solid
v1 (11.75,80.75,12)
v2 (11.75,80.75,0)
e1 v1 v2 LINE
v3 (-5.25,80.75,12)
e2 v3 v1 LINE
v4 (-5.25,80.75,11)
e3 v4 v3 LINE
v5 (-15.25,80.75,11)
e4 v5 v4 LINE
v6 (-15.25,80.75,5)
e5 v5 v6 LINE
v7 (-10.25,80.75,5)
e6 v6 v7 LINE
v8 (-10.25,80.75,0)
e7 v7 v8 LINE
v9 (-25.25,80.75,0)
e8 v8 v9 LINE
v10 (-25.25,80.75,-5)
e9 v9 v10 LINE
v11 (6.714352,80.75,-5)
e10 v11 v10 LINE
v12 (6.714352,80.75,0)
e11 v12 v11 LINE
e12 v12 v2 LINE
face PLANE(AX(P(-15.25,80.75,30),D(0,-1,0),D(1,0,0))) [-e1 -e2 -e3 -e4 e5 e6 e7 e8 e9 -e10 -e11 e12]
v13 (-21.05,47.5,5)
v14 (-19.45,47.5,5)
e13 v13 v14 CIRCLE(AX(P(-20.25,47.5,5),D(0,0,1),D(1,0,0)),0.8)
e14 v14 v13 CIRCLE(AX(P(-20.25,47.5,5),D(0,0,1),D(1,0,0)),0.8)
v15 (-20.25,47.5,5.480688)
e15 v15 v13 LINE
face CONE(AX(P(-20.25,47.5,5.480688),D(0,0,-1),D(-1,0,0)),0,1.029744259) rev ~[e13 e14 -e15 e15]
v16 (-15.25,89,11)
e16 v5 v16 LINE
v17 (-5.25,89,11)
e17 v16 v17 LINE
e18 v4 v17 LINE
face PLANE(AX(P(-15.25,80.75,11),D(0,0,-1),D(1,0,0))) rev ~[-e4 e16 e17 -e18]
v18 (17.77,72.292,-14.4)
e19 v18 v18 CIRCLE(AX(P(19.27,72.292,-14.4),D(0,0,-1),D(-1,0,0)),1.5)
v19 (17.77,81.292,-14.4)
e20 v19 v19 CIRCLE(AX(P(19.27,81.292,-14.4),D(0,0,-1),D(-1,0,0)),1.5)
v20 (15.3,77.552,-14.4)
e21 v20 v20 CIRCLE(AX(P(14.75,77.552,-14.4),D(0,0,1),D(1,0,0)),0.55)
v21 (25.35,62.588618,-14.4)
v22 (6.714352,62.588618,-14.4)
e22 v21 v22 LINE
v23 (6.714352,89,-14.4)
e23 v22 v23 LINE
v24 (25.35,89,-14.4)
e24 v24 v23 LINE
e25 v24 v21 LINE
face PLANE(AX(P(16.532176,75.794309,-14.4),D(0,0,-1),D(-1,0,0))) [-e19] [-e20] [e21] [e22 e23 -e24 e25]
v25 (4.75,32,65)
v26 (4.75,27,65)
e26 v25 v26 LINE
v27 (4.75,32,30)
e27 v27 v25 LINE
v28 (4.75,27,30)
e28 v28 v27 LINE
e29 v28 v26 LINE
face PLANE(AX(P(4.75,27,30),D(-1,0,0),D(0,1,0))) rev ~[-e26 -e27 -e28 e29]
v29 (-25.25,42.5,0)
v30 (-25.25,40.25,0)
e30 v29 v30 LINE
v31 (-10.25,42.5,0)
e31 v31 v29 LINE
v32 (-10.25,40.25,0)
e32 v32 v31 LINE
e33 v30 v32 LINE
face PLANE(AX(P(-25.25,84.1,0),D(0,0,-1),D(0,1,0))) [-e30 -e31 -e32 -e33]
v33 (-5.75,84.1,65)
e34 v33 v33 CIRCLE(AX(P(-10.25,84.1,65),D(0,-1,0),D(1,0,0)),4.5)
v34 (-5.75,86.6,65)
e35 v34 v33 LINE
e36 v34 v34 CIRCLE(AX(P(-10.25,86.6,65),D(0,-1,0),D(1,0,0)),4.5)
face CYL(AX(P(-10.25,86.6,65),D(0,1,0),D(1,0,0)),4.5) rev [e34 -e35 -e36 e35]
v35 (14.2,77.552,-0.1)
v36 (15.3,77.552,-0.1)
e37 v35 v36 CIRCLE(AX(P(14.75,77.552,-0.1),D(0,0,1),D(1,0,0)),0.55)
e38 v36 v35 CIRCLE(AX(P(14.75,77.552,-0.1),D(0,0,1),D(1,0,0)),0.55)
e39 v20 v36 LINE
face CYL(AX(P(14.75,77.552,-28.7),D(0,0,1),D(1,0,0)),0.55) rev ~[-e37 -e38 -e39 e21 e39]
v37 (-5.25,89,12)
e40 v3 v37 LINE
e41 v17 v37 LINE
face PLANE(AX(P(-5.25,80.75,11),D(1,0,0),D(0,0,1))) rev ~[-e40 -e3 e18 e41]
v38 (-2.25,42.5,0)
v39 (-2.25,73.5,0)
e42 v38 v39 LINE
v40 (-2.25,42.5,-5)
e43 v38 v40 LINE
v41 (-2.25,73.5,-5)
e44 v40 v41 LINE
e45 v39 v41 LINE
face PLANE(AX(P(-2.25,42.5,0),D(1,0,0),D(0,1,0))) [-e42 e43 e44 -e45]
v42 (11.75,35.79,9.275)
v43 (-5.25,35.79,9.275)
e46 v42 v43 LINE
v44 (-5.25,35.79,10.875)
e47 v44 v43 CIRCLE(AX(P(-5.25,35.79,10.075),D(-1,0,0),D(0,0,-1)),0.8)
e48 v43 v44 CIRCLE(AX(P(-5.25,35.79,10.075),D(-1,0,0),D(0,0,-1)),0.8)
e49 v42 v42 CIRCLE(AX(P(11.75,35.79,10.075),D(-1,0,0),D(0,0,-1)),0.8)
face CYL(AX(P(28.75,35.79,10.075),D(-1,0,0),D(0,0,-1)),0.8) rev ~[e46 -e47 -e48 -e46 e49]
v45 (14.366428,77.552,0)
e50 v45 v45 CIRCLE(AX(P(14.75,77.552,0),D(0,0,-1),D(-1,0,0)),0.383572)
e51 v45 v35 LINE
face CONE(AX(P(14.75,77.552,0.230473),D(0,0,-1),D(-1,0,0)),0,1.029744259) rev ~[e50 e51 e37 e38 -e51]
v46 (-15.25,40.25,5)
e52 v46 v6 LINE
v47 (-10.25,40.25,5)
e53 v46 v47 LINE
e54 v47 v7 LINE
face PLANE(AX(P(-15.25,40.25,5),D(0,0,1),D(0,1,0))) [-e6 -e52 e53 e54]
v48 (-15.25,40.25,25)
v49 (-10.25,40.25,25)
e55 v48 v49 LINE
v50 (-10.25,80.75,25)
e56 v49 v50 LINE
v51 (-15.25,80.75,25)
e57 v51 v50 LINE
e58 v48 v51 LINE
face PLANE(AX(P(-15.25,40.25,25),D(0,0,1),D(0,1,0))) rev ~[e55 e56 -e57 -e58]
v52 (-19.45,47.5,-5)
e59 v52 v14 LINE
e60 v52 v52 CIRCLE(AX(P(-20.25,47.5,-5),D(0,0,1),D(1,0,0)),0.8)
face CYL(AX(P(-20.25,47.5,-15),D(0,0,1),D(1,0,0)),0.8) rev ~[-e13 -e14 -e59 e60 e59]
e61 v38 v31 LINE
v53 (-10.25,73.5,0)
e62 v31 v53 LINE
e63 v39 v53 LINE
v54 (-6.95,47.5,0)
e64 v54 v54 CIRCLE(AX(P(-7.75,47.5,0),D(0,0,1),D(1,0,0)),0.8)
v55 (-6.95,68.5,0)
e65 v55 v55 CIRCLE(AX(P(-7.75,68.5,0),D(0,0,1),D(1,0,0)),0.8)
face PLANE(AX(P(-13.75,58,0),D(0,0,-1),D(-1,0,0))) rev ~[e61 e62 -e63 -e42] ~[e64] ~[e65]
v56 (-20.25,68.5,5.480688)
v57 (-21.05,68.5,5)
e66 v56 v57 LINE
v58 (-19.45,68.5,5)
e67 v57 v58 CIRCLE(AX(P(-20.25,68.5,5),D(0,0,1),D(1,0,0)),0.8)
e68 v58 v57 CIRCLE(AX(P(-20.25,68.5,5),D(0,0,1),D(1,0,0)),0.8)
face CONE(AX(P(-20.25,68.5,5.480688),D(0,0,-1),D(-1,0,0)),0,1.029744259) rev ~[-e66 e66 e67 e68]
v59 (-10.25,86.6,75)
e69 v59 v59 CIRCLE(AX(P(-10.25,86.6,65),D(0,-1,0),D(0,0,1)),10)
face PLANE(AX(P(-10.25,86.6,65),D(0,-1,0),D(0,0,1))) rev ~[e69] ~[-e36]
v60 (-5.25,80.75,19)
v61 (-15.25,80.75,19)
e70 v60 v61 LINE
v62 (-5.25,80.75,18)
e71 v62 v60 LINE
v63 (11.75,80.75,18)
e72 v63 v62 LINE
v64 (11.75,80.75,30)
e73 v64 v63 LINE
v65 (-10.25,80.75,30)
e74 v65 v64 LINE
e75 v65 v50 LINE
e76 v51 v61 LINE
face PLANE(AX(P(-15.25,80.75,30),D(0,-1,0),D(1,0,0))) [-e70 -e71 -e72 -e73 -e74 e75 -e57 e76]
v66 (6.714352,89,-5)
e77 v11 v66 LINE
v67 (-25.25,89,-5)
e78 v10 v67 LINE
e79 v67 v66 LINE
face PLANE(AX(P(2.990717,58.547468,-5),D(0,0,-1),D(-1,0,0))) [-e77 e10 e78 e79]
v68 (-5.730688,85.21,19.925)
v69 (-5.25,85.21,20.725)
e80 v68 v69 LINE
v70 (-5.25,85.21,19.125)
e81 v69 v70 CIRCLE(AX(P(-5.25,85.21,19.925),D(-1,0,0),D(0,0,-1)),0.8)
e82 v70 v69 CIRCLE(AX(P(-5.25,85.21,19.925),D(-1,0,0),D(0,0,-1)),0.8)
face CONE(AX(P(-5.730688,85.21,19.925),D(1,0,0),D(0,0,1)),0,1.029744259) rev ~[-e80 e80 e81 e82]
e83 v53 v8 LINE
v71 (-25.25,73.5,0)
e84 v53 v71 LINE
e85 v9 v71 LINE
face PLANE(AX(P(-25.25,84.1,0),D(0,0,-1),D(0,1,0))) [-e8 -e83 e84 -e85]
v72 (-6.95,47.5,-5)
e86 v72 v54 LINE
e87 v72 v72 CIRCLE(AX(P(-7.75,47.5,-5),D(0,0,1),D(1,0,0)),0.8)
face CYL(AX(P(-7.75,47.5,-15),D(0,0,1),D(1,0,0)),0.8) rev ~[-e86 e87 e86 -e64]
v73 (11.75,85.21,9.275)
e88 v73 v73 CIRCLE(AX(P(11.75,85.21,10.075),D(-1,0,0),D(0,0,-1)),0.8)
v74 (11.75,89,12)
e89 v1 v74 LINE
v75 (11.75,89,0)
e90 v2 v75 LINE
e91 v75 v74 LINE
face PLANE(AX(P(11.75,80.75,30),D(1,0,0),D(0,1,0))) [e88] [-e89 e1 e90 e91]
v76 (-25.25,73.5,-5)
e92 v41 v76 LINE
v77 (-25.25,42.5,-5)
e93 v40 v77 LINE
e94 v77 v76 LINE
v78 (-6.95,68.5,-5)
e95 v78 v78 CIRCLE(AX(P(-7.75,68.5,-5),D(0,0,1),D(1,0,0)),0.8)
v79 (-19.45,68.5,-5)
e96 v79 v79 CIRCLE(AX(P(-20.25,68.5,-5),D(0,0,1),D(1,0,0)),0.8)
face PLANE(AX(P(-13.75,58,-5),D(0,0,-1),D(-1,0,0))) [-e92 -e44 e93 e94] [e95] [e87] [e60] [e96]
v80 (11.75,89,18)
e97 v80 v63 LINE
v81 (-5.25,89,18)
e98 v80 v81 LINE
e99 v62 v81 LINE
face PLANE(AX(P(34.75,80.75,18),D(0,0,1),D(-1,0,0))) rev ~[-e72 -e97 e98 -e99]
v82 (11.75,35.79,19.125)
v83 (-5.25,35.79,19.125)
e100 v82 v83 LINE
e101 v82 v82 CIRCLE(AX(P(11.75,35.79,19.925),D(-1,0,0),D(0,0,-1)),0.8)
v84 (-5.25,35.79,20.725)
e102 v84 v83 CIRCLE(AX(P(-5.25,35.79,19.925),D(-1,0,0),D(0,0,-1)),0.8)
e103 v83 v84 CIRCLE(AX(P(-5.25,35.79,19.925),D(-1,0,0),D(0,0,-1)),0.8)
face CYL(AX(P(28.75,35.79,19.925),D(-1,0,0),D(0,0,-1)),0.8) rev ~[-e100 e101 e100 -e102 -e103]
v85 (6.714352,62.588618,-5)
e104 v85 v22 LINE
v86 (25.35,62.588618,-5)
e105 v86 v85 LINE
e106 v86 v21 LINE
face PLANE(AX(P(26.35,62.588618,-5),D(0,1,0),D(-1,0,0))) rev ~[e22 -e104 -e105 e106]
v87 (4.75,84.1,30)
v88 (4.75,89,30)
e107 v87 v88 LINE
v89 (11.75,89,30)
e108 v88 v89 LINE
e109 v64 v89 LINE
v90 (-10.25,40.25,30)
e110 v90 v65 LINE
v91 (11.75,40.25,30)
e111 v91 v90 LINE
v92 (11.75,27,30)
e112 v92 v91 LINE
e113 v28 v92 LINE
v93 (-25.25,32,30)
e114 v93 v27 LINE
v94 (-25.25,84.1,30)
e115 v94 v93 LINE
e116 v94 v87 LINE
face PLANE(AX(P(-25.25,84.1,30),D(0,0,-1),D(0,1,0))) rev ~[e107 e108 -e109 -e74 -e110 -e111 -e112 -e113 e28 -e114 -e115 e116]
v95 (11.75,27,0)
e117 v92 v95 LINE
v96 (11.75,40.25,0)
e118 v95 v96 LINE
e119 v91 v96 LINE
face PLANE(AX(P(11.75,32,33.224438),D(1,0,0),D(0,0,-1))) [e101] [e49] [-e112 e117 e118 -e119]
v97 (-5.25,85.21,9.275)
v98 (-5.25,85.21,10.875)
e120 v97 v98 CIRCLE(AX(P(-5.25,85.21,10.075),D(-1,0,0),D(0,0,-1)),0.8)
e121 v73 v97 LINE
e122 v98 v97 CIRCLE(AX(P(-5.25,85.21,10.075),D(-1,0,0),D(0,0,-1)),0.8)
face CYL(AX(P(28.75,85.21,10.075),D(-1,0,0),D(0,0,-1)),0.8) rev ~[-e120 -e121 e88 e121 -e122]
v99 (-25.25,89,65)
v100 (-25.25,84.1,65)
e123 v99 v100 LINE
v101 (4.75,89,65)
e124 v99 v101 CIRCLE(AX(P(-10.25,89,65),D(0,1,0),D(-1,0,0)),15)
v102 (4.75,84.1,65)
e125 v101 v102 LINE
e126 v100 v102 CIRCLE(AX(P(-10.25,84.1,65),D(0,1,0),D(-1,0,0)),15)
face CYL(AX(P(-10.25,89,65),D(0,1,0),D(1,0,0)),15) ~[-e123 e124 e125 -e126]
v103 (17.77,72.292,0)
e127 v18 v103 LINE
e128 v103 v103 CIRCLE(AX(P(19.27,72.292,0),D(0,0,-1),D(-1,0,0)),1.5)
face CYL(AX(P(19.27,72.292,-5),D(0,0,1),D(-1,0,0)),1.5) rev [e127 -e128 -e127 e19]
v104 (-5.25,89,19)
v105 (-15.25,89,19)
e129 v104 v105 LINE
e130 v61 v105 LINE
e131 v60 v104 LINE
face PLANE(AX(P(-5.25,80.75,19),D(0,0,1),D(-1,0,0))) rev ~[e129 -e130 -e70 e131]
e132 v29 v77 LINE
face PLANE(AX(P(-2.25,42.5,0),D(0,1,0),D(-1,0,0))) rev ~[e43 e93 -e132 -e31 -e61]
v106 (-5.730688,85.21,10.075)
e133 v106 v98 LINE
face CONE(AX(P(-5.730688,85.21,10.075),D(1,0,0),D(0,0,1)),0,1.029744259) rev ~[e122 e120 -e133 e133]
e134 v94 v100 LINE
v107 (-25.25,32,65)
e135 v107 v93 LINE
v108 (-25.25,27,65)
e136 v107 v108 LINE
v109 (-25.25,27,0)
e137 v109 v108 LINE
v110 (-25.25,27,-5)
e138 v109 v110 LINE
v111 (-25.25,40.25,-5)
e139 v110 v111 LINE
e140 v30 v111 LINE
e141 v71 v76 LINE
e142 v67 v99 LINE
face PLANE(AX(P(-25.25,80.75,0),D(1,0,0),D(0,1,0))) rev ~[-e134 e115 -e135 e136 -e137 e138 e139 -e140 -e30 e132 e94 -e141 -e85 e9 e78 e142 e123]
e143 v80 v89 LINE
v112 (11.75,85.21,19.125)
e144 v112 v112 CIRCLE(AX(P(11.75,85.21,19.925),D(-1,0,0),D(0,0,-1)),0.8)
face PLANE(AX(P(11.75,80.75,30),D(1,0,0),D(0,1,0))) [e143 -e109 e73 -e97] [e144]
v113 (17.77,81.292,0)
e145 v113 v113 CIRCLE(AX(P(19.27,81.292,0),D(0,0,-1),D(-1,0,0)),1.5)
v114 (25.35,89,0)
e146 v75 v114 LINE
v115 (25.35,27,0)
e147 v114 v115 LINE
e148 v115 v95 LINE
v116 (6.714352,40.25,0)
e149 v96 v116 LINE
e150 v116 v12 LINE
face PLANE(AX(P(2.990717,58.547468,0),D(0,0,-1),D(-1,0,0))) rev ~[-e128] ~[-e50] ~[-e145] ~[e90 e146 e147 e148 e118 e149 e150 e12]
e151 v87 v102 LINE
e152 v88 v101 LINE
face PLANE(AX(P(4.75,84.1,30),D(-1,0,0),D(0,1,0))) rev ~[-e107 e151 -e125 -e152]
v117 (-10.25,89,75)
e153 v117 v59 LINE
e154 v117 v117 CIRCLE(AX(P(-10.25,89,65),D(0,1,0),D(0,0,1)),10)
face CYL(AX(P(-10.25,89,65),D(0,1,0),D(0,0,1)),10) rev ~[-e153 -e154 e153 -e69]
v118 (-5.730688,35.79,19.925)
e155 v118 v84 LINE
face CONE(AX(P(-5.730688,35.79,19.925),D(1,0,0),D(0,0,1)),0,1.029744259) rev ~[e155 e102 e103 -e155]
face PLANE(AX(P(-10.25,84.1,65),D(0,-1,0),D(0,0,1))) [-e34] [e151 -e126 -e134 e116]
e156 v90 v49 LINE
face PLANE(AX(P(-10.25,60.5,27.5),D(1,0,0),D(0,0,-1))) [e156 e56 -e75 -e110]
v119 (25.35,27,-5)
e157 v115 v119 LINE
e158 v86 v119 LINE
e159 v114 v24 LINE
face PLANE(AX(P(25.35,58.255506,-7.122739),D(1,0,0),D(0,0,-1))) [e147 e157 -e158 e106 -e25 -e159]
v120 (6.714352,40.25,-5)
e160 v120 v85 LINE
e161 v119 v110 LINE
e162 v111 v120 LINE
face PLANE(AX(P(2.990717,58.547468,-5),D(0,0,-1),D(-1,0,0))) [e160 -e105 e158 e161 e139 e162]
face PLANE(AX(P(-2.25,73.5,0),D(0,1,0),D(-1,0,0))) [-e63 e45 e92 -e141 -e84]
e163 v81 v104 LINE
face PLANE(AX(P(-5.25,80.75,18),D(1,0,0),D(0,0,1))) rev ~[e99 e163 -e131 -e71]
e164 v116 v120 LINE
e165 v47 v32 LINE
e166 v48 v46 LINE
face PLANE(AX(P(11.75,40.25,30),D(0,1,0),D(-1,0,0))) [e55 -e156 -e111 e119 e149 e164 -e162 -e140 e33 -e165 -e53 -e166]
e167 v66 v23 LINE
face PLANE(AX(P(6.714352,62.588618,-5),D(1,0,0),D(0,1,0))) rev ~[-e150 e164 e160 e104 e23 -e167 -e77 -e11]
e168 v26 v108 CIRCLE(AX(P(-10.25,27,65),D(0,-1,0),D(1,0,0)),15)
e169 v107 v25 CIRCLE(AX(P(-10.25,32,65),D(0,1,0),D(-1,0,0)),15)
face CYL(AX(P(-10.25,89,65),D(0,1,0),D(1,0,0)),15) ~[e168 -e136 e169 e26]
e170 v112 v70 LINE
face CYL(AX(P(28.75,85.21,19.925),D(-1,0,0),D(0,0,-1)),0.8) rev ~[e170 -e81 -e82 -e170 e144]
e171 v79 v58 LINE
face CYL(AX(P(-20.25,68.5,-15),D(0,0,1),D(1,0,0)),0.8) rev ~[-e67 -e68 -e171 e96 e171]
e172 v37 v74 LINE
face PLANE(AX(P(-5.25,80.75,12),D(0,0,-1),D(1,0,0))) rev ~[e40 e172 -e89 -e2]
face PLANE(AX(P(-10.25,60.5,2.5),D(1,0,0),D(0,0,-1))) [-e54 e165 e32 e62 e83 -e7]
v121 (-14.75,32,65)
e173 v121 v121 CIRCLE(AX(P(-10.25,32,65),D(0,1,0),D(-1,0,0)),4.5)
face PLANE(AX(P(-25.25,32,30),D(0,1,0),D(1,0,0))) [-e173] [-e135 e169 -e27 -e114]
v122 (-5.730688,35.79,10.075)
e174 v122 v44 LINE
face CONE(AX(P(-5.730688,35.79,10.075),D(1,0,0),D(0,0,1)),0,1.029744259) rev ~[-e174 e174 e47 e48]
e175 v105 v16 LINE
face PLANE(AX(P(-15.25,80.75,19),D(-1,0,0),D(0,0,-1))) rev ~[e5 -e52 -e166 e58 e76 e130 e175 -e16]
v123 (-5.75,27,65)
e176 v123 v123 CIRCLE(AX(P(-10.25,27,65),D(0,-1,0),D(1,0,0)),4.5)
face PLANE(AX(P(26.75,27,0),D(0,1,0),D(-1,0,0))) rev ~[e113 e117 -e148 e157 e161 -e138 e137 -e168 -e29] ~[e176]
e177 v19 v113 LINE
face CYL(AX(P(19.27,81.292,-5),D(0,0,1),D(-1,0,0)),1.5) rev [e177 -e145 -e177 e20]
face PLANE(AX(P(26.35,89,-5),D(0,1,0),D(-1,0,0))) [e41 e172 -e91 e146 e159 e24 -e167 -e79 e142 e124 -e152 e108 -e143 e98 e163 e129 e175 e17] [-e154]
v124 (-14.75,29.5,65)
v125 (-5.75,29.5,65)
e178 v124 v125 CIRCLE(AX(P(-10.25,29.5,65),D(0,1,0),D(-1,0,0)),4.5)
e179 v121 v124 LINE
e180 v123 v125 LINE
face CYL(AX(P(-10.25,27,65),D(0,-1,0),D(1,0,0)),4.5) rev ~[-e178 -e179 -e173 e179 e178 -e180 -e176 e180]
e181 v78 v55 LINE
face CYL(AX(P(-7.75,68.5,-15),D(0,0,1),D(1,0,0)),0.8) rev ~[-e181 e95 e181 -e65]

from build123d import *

# Parameters (mm, degrees)
ESQUISSE1_W                 = 60.5
ESQUISSE1_H                 = 64
BOSS_EXTRU_1_DEPTH          = 30
ESQUISSE2_R                 = 4.5
ENL_V_MAT_EXTRU_1_DEPTH     = 32
ENL_V_MAT_EXTRU_2_REACH     = 55.283
ESQUISSE4_W                 = 51.1
ESQUISSE4_H                 = 83.557669167
ESQUISSE5_R                 = 10.5
ENL_V_MAT_EXTRU_3_DEPTH     = 2
ESQUISSE6_R                 = 10
ENL_V_MAT_EXTRU_4_DEPTH     = 4.7
ESQUISSE7_W                 = 47
ESQUISSE7_H                 = 57
BOSS_EXTRU_2_DEPTH          = 30
ENL_V_MAT_EXTRU_5_DEPTH     = 30
ENL_V_MAT_EXTRU_6_DEPTH     = 8.25
ESQUISSE11_W                = 5
ESQUISSE11_H                = 40.5
BOSS_EXTRU_3_DEPTH          = 5
ESQUISSE12_R                = 0.5
ENL_V_MAT_EXTRU_7_DEPTH     = 15
TROU_TARAUD_M2X0_42_D       = 1.6
TROU_TARAUD_M2X0_42_DEPTH   = 17
TROU_TARAUD_M2X0_42_TIP     = 0.480688495
ENL_V_MAT_EXTRU_8_REACH     = 113.72
ESQUISSE22_W                = 82.97203866
ESQUISSE22_H                = 67.875780224
ENL_V_MAT_EXTRU_10_DEPTH    = 30
ESQUISSE23_W                = 55
ESQUISSE23_H                = 5
ESQUISSE23_H_2              = 4.9
BOSS_EXTRU_4_DEPTH          = 30
ENL_V_START                 = -62
ESQUISSE24_R                = 10
ENL_V_MAT_EXTRU_11_DEPTH    = 62
ENL_V_MAT_EXTRU_12_REACH    = 111.597
ESQUISSE26_R                = 10.5
ESQUISSE26_R_2              = 4.5
BOSS_EXTRU_5_DEPTH          = 5
ESQUISSE27_R                = 10.5
ENL_V_MAT_EXTRU_13_DEPTH    = 2.5
ESQUISSE28_W                = 21.53784572
ESQUISSE28_H                = 33.22443827
ENL_V_MAT_EXTRU_14_DEPTH    = 5
ESQUISSE29_W                = 5
ESQUISSE29_H                = 52.1
ENL_V_MAT_EXTRU_15_DEPTH    = 30
BOSS_EXTRU_6_DEPTH          = 62
ENL_V_START_2               = -20.388398
ESQUISSE32_W                = 38.789198293
ESQUISSE32_H                = 52.1
ENL_V_MAT_EXTRU_16_DEPTH    = 20.388398
ESQUISSE36_W                = 70.879809572
ESQUISSE36_H                = 44.299384872
ENL_V_MAT_EXTRU_20_DEPTH    = 62
ESQUISSE37_W                = 30
ESQUISSE37_H                = 4.9
ESQUISSE37_H_2              = 5
BOSS_EXTRU_8_DEPTH          = 50
ESQUISSE38_R                = 4.5
ENL_V_MAT_EXTRU_21_DEPTH    = 62
ESQUISSE39_R                = 10
ENL_V_MAT_EXTRU_22_DEPTH    = 4.9
ESQUISSE40_R                = 10.5
ENL_V_MAT_EXTRU_23_DEPTH    = 2.5
ENL_V_MAT_EXTRU_24_REACH    = 104.013
ESQUISSE44_W                = 30
ESQUISSE44_H                = 4.9
ESQUISSE44_H_2              = 5
BOSS_EXTRU_9_DEPTH          = 50
ENL_V_MAT_EXTRU_25_REACH    = 127.904
ESQUISSE45_R                = 4.5
ESQUISSE46_R                = 10
ENL_V_MAT_EXTRU_26_DEPTH    = 4.9
ESQUISSE47_R                = 10.5
ENL_V_MAT_EXTRU_27_DEPTH    = 2.5
ENL_V_MAT_EXTRU_28_DEPTH    = 62
ESQUISSE49_W                = 23
ESQUISSE49_H                = 31
BOSS_EXTRU_10_DEPTH         = 5
ESQUISSE50_R                = 0.45
ENL_V_MAT_EXTRU_29_DEPTH    = 5
TROU_TARAUD_M2X0_43_D       = 1.6
TROU_TARAUD_M2X0_43_DEPTH   = 10
TROU_TARAUD_M2X0_43_TIP     = 0.480688495
BOSS_EXTRU_11_DEPTH         = 5
ESQUISSE53_R                = 10.5
ESQUISSE53_R_2              = 4.5
BOSS_EXTRU_12_DEPTH         = 2.5
BOSS_EXTRU_14_START         = -2.5
ESQUISSE55_R                = 10
ESQUISSE55_R_2              = 4.5
BOSS_EXTRU_14_DEPTH         = 2.5
ESQUISSE56_R                = 0.3
ESQUISSE56_R_2              = 1.5
ENL_V_MAT_EXTRU_30_DEPTH    = 5
ESQUISSE58_W                = 13.11360463
ESQUISSE58_H                = 66.02814963
ENL_V_MAT_EXTRU_31_DEPTH    = 0.4
ESQUISSE59_W                = 19.635648438
ESQUISSE59_H                = 26.411381916
ESQUISSE59_R                = 0.3
ESQUISSE59_R_2              = 1.5
BOSS_EXTRU_15_DEPTH         = 9.4
TROU_TARAUD_M1_4X0_31_D     = 1.1
TROU_TARAUD_M1_4X0_31_DEPTH = 14.3
TROU_TARAUD_M1_4X0_31_TIP   = 0.33047334
ESQUISSE63_W                = 17.246623056
ESQUISSE63_H                = 70.264019857
ENL_V_MAT_EXTRU_32_DEPTH    = 1


with BuildPart() as part:
    # Esquisse1 → Boss.-Extru.1 (new body)
    with BuildSketch(Plane.XY):
        Rectangle(ESQUISSE1_W, ESQUISSE1_H)
    extrude(amount=BOSS_EXTRU_1_DEPTH)

    # Esquisse2 → Enlèv. mat.-Extru.1 (cut)
    with BuildSketch(Plane(origin=(30.25, 0, 0), x_dir=(0, 0, -1), z_dir=(1, 0, 0))):
        with Locations(Location((-15, -17, 0), (0, 0, 90))):
            Circle(ESQUISSE2_R)
    extrude(amount=-ENL_V_MAT_EXTRU_1_DEPTH, mode=Mode.SUBTRACT)

    # Enlèv. mat.-Extru.2: up to this face of the body (flat: up to its plane)
    enl_v_mat_extru_2_end = Plane(part.part.faces().sort_by_distance((0, 0, 0))[0])
    # Esquisse4 → Enlèv. mat.-Extru.2 (cut, up to the picked face)
    with BuildSketch(Plane.XY.offset(30), mode=Mode.PRIVATE) as enl_v_mat_extru_2_sk1:
        with Locations((0, -14.778834584)):
            Rectangle(ESQUISSE4_W, ESQUISSE4_H)
    enl_v_mat_extru_2_tool1 = split(extrude(enl_v_mat_extru_2_sk1.sketch, amount=-ENL_V_MAT_EXTRU_2_REACH, mode=Mode.PRIVATE), bisect_by=enl_v_mat_extru_2_end, keep=Keep.BOTH, mode=Mode.PRIVATE)
    add(enl_v_mat_extru_2_tool1.solids().sort_by(Axis((0, -14.778835, 30), (0, 0, -1)))[0], mode=Mode.SUBTRACT)

    # Esquisse5 → Enlèv. mat.-Extru.3 (cut)
    with BuildSketch(Plane(origin=(30.25, 0, 0), x_dir=(0, 0, -1), z_dir=(1, 0, 0))):
        with Locations(Location((-15, -17, 0), (0, 0, 90))):
            Circle(ESQUISSE5_R)
    extrude(amount=-ENL_V_MAT_EXTRU_3_DEPTH, mode=Mode.SUBTRACT)

    # Esquisse6 → Enlèv. mat.-Extru.4 (cut)
    with BuildSketch(Plane(origin=(-25.55, 0, 0), x_dir=(0, 0, -1), z_dir=(1, 0, 0))):
        with Locations((-15, -17)):
            Circle(ESQUISSE6_R)
    extrude(amount=-ENL_V_MAT_EXTRU_4_DEPTH, mode=Mode.SUBTRACT)

    # Esquisse7 → Boss.-Extru.2 (add)
    with BuildSketch(Plane.XY.offset(30)):
        with Locations((-6.75, 60.5)):
            Rectangle(ESQUISSE7_W, ESQUISSE7_H)
    extrude(amount=-BOSS_EXTRU_2_DEPTH)

    # Esquisse8 → Enlèv. mat.-Extru.5 (cut)
    with BuildSketch(Plane.XY.offset(30)):
        Polygon((-15.25, 80.75), (11.75, 80.75), (11.75, 101.149817475), (21.75, 101.149817475), (21.75, 32), (11.75, 32), (11.75, 40.25), (-15.25, 40.25), align=None)
    extrude(amount=-ENL_V_MAT_EXTRU_5_DEPTH, mode=Mode.SUBTRACT)

    # Esquisse10 → Enlèv. mat.-Extru.6 (cut)
    with BuildSketch(Plane.XZ.offset(-80.75)):
        Polygon((-5.25, 11), (-5.25, 12), (34.75, 12), (34.75, 18), (-5.25, 18), (-5.25, 19), (-15.25, 19), (-15.25, 11), align=None)
    extrude(amount=-ENL_V_MAT_EXTRU_6_DEPTH, mode=Mode.SUBTRACT)

    # Esquisse11 → Boss.-Extru.3 (add)
    with BuildSketch(Plane(origin=(-15.25, 0, 0), x_dir=(0, 0, -1), z_dir=(1, 0, 0))):
        with Locations((-27.5, 60.5)):
            Rectangle(ESQUISSE11_W, ESQUISSE11_H)
        with Locations((-2.5, 60.5)):
            Rectangle(ESQUISSE11_W, ESQUISSE11_H)
    extrude(amount=BOSS_EXTRU_3_DEPTH)

    # Esquisse12 → Enlèv. mat.-Extru.7 (cut)
    with BuildSketch(Plane(origin=(11.75, 0, 0), x_dir=(0, 0, -1), z_dir=(1, 0, 0))):
        with Locations((-19.925, 85.21)):
            Circle(ESQUISSE12_R)
        with Locations(Location((-10.075, 85.21, 0), (0, 0, 180))):
            Circle(ESQUISSE12_R)
        with Locations((-10.075, 35.79)):
            Circle(ESQUISSE12_R)
        with Locations(Location((-19.925, 35.79, 0), (0, 0, 180))):
            Circle(ESQUISSE12_R)
    extrude(amount=-ENL_V_MAT_EXTRU_7_DEPTH, mode=Mode.SUBTRACT)

    # Trou taraudé M2x0.42
    with Locations(Plane(origin=(11.75, 85.21, 19.925), x_dir=(0, 0, 1), z_dir=(1, 0, 0))):
        with Locations((0, 0), (-9.85, 0), (-9.85, 49.42), (0, 49.42)):
            Hole(TROU_TARAUD_M2X0_42_D / 2, depth=TROU_TARAUD_M2X0_42_DEPTH)
            with Locations((0, 0, -(TROU_TARAUD_M2X0_42_DEPTH + TROU_TARAUD_M2X0_42_TIP / 2))):  # 118° drill point
                Cone(0, TROU_TARAUD_M2X0_42_D / 2, TROU_TARAUD_M2X0_42_TIP, mode=Mode.SUBTRACT)

    # Enlèv. mat.-Extru.8: up to this face of the body (flat: up to its plane)
    enl_v_mat_extru_8_end = Plane(part.part.faces().sort_by_distance((30.25, 3.741727612, 15))[0])
    # Esquisse15 → Enlèv. mat.-Extru.8 (cut, up to the picked face)
    with BuildSketch(Plane.ZY.offset(30.25), mode=Mode.PRIVATE) as enl_v_mat_extru_8_sk1:
        with BuildLine():
            Line((40, -17), (30, -17))
            ThreePointArc((30, -17), (15, -32), (0, -17))
            Line((0, -17), (-10, -17))
            ThreePointArc((-10, -17), (15, -42), (40, -17))
        make_face()
    enl_v_mat_extru_8_tool1 = split(extrude(enl_v_mat_extru_8_sk1.sketch, amount=-ENL_V_MAT_EXTRU_8_REACH, mode=Mode.PRIVATE), bisect_by=enl_v_mat_extru_8_end, keep=Keep.BOTH, mode=Mode.PRIVATE)
    add(enl_v_mat_extru_8_tool1.solids().sort_by(Axis((-30.25, -17.559017, -5), (1, 0, 0)))[0], mode=Mode.SUBTRACT)

    # Esquisse22 → Enlèv. mat.-Extru.10 (cut)
    with BuildSketch(Plane.XY.offset(30)):
        with Locations((-1.917421061, -6.937890112)):
            Rectangle(ESQUISSE22_W, ESQUISSE22_H)
    extrude(amount=-ENL_V_MAT_EXTRU_10_DEPTH, mode=Mode.SUBTRACT)

    # Esquisse23 → Boss.-Extru.4 (add)
    with BuildSketch(Plane(origin=(0, 0, 0), x_dir=(-1, 0, 0), z_dir=(0, 0, -1))):
        with Locations((57.75, 29.5)):
            Rectangle(ESQUISSE23_W, ESQUISSE23_H)
        with Locations((57.75, 86.55)):
            Rectangle(ESQUISSE23_W, ESQUISSE23_H_2)
    extrude(amount=-BOSS_EXTRU_4_DEPTH)

    # Esquisse24 → Enlèv. mat.-Extru.11 (cut)
    with BuildSketch(Plane.XZ.offset(-27).offset(ENL_V_START)):
        with Locations((-74.25, 15)):
            Circle(ESQUISSE24_R)
    extrude(amount=ENL_V_MAT_EXTRU_11_DEPTH, mode=Mode.SUBTRACT)

    # Enlèv. mat.-Extru.12: up to this face of the body (flat: up to its plane)
    enl_v_mat_extru_12_end = Plane(part.part.faces().sort_by_distance((-34.437928466, 89, 15))[0])
    # Esquisse25 → Enlèv. mat.-Extru.12 (cut, up to the picked face)
    with BuildSketch(Plane.XZ.offset(-27), mode=Mode.PRIVATE) as enl_v_mat_extru_12_sk1:
        with BuildLine():
            Line((-74.25, 44.134833893), (-74.25, 30))
            ThreePointArc((-74.25, 30), (-89.25, 15), (-74.25, 0))
            Line((-74.25, 0), (-74.25, -14.134833893))
            ThreePointArc((-74.25, -14.134833893), (-103.384833893, 15), (-74.25, 44.134833893))
        make_face()
    enl_v_mat_extru_12_tool1 = split(extrude(enl_v_mat_extru_12_sk1.sketch, amount=-ENL_V_MAT_EXTRU_12_REACH, mode=Mode.PRIVATE), bisect_by=enl_v_mat_extru_12_end, keep=Keep.BOTH, mode=Mode.PRIVATE)
    add(enl_v_mat_extru_12_tool1.solids().sort_by(Axis((-74.901475, 27, 37.067417), (0, 1, 0)))[0], mode=Mode.SUBTRACT)

    # Esquisse26 → Boss.-Extru.5 (add)
    with BuildSketch(Plane.XZ.offset(-27)):
        with Locations((-74.25, 15)):
            Circle(ESQUISSE26_R)
        with Locations((-74.25, 15)):
            Circle(ESQUISSE26_R_2, mode=Mode.SUBTRACT)
    extrude(amount=-BOSS_EXTRU_5_DEPTH)

    # Esquisse27 → Enlèv. mat.-Extru.13 (cut)
    with BuildSketch(Plane.XZ.offset(-27)):
        with Locations((-74.25, 15)):
            Circle(ESQUISSE27_R)
    extrude(amount=-ENL_V_MAT_EXTRU_13_DEPTH, mode=Mode.SUBTRACT)

    # Esquisse28 → Enlèv. mat.-Extru.14 (cut)
    with BuildSketch(Plane(origin=(0, 32, 0), x_dir=(1, 0, 0), z_dir=(0, 1, 0))):
        with Locations((22.51892286, -16.612219135)):
            Rectangle(ESQUISSE28_W, ESQUISSE28_H)
    extrude(amount=-ENL_V_MAT_EXTRU_14_DEPTH, mode=Mode.SUBTRACT)

    # Esquisse29 → Enlèv. mat.-Extru.15 (cut)
    with BuildSketch(Plane(origin=(0, 0, 0), x_dir=(-1, 0, 0), z_dir=(0, 0, -1))):
        with Locations((27.75, 58.05)):
            Rectangle(ESQUISSE29_W, ESQUISSE29_H)
    extrude(amount=-ENL_V_MAT_EXTRU_15_DEPTH, mode=Mode.SUBTRACT)

    # Esquisse31 → Boss.-Extru.6 (add)
    with BuildSketch(Plane.XZ.offset(-27)):
        with BuildLine():
            ThreePointArc((-74.826036871, 4.515812787), (-83.84709586, 10.740217019), (-82.411654216, 21.605861069))
            Line((-82.411654216, 21.605861069), (-85.25, 25.198039027))
            Line((-85.25, 25.198039027), (-85.25, 4.801960973))
            Line((-85.25, 4.801960973), (-74.826036871, 4.515812787))
        make_face()
        with BuildLine():
            ThreePointArc((-85.25, 25.198039027), (-89.25, 15), (-85.25, 4.801960973))
            Line((-85.25, 4.801960973), (-85.25, 25.198039027))
        make_face()
    extrude(amount=-BOSS_EXTRU_6_DEPTH)

    # Esquisse32 → Enlèv. mat.-Extru.16 (cut)
    with BuildSketch(Plane(origin=(0.067526976, 0, 2.459909751), x_dir=(-0.9996234341769173, 0, 0.027440660421105302), z_dir=(-0.027440660421105302, 0, -0.9996234341769173)).offset(ENL_V_START_2)):
        with Locations((94.316375975, 58.05)):
            Rectangle(ESQUISSE32_W, ESQUISSE32_H)
    extrude(amount=ENL_V_MAT_EXTRU_16_DEPTH, mode=Mode.SUBTRACT)

    # Esquisse36 → Enlèv. mat.-Extru.20 (cut)
    with BuildSketch(Plane.XZ.offset(-27)):
        with Locations((-60.689904786, 17.333529037)):
            Rectangle(ESQUISSE36_W, ESQUISSE36_H)
    extrude(amount=-ENL_V_MAT_EXTRU_20_DEPTH, mode=Mode.SUBTRACT)

    # Esquisse37 → Boss.-Extru.8 (add)
    with BuildSketch(Plane.ZY.offset(25.25)):
        with Locations((15, 86.55)):
            Rectangle(ESQUISSE37_W, ESQUISSE37_H)
        with Locations((15, 29.5)):
            Rectangle(ESQUISSE37_W, ESQUISSE37_H_2)
    extrude(amount=BOSS_EXTRU_8_DEPTH)

    # Esquisse38 → Enlèv. mat.-Extru.21 (cut)
    with BuildSketch(Plane.XZ.offset(-27).offset(ENL_V_START)):
        with Locations((-59.885466485, 15)):
            Circle(ESQUISSE38_R)
    extrude(amount=ENL_V_MAT_EXTRU_21_DEPTH, mode=Mode.SUBTRACT)

    # Esquisse39 → Enlèv. mat.-Extru.22 (cut)
    with BuildSketch(Plane(origin=(0, 89, 0), x_dir=(1, 0, 0), z_dir=(0, 1, 0))):
        with Locations(Location((-59.885466485, -15, 0), (0, 0, 270))):
            Circle(ESQUISSE39_R)
    extrude(amount=-ENL_V_MAT_EXTRU_22_DEPTH, mode=Mode.SUBTRACT)

    # Esquisse40 → Enlèv. mat.-Extru.23 (cut)
    with BuildSketch(Plane.XZ.offset(-27)):
        with Locations((-59.885466485, 15)):
            Circle(ESQUISSE40_R)
    extrude(amount=-ENL_V_MAT_EXTRU_23_DEPTH, mode=Mode.SUBTRACT)

    # Enlèv. mat.-Extru.24: up to this face of the body (flat: up to its plane)
    enl_v_mat_extru_24_end = Plane(part.part.faces().sort_by_distance((-30.071057295, 89, 15))[0])
    # Esquisse42 → Enlèv. mat.-Extru.24 (cut, up to the picked face)
    with BuildSketch(Plane.XZ.offset(-27), mode=Mode.PRIVATE) as enl_v_mat_extru_24_sk1:
        with BuildLine():
            Line((-59.885466485, 38.922928663), (-59.885466485, 30))
            ThreePointArc((-59.885466485, 30), (-74.885466485, 15), (-59.885466485, 0))
            Line((-59.885466485, 0), (-59.885466485, -8.922928663))
            ThreePointArc((-59.885466485, -8.922928663), (-83.808395148, 15), (-59.885466485, 38.922928663))
        make_face()
    enl_v_mat_extru_24_tool1 = split(extrude(enl_v_mat_extru_24_sk1.sketch, amount=-ENL_V_MAT_EXTRU_24_REACH, mode=Mode.PRIVATE), bisect_by=enl_v_mat_extru_24_end, keep=Keep.BOTH, mode=Mode.PRIVATE)
    add(enl_v_mat_extru_24_tool1.solids().sort_by(Axis((-83.273462, 27, 15), (0, 1, 0)))[0], mode=Mode.SUBTRACT)

    # Esquisse44 → Boss.-Extru.9 (add)
    with BuildSketch(Plane.XY.offset(30)):
        with Locations((-10.25, 86.55)):
            Rectangle(ESQUISSE44_W, ESQUISSE44_H)
        with Locations((-10.25, 29.5)):
            Rectangle(ESQUISSE44_W, ESQUISSE44_H_2)
    extrude(amount=BOSS_EXTRU_9_DEPTH)

    # Enlèv. mat.-Extru.25: up to this face of the body (flat: up to its plane)
    enl_v_mat_extru_25_end = Plane(part.part.faces().sort_by_distance((-19.083390132, 27, 31.410783449))[0])
    # Esquisse45 → Enlèv. mat.-Extru.25 (cut, up to the picked face)
    with BuildSketch(Plane(origin=(0, 89, 0), x_dir=(1, 0, 0), z_dir=(0, 1, 0)), mode=Mode.PRIVATE) as enl_v_mat_extru_25_sk1:
        with Locations(Location((-10.25, -65, 0), (0, 0, 180))):
            Circle(ESQUISSE45_R)
    enl_v_mat_extru_25_tool1 = split(extrude(enl_v_mat_extru_25_sk1.sketch, amount=-ENL_V_MAT_EXTRU_25_REACH, mode=Mode.PRIVATE), bisect_by=enl_v_mat_extru_25_end, keep=Keep.BOTH, mode=Mode.PRIVATE)
    # Esquisse45 → Enlèv. mat.-Extru.25 (cut, up to the picked face)
    with BuildSketch(Plane(origin=(0, 89, 0), x_dir=(1, 0, 0), z_dir=(0, 1, 0)), mode=Mode.PRIVATE) as enl_v_mat_extru_25_sk2:
        with BuildLine():
            Line((-25.25, -65), (-36.206188562, -65))
            ThreePointArc((-36.206188562, -65), (-10.25, -90.956188562), (15.706188562, -65))
            Line((15.706188562, -65), (4.75, -65))
            ThreePointArc((4.75, -65), (-10.25, -80), (-25.25, -65))
        make_face()
    enl_v_mat_extru_25_tool2 = split(extrude(enl_v_mat_extru_25_sk2.sketch, amount=-ENL_V_MAT_EXTRU_25_REACH, mode=Mode.PRIVATE), bisect_by=enl_v_mat_extru_25_end, keep=Keep.BOTH, mode=Mode.PRIVATE)
    add(enl_v_mat_extru_25_tool1.solids().sort_by(Axis((-10.25, 89, 65), (0, -1, 0)))[0], mode=Mode.SUBTRACT)
    add(enl_v_mat_extru_25_tool2.solids().sort_by(Axis((-30.728094, 89, 65.580398), (0, -1, 0)))[0], mode=Mode.SUBTRACT)

    # Esquisse46 → Enlèv. mat.-Extru.26 (cut)
    with BuildSketch(Plane(origin=(0, 89, 0), x_dir=(1, 0, 0), z_dir=(0, 1, 0))):
        with Locations(Location((-10.25, -65, 0), (0, 0, 270))):
            Circle(ESQUISSE46_R)
    extrude(amount=-ENL_V_MAT_EXTRU_26_DEPTH, mode=Mode.SUBTRACT)

    # Esquisse47 → Enlèv. mat.-Extru.27 (cut)
    with BuildSketch(Plane.XZ.offset(-27)):
        with Locations((-10.25, 65)):
            Circle(ESQUISSE47_R)
    extrude(amount=-ENL_V_MAT_EXTRU_27_DEPTH, mode=Mode.SUBTRACT)

    # Esquisse48 → Enlèv. mat.-Extru.28 (cut)
    with BuildSketch(Plane(origin=(0, 89, 0), x_dir=(1, 0, 0), z_dir=(0, 1, 0))):
        Polygon((-25.25, 15), (-25.25, -37.588813894), (-103.224613984, -37.588813894), (-103.224613984, -30), (-103.224613984, 15), align=None)
    extrude(amount=-ENL_V_MAT_EXTRU_28_DEPTH, mode=Mode.SUBTRACT)

    # Esquisse49 → Boss.-Extru.10 (add)
    with BuildSketch(Plane(origin=(0, 0, 0), x_dir=(-1, 0, 0), z_dir=(0, 0, -1))):
        with Locations((13.75, 58)):
            Rectangle(ESQUISSE49_W, ESQUISSE49_H)
    extrude(amount=BOSS_EXTRU_10_DEPTH)

    # Esquisse50 → Enlèv. mat.-Extru.29 (cut)
    with BuildSketch(Plane(origin=(0, 0, -5), x_dir=(-1, 0, 0), z_dir=(0, 0, -1))):
        with Locations((7.75, 68.5)):
            Circle(ESQUISSE50_R)
        with Locations((7.75, 47.5)):
            Circle(ESQUISSE50_R)
        with Locations(Location((20.25, 68.5, 0), (0, 0, 180))):
            Circle(ESQUISSE50_R)
        with Locations(Location((20.25, 47.5, 0), (0, 0, 180))):
            Circle(ESQUISSE50_R)
    extrude(amount=-ENL_V_MAT_EXTRU_29_DEPTH, mode=Mode.SUBTRACT)

    # Trou taraudé M2x0.43
    with Locations(Plane(origin=(-7.75, 47.5, -5), x_dir=(-1, 0, 0), z_dir=(0, 0, -1))):
        with Locations((0, 0), (0, 21), (12.5, 21), (12.5, 0)):
            Hole(TROU_TARAUD_M2X0_43_D / 2, depth=TROU_TARAUD_M2X0_43_DEPTH)
            with Locations((0, 0, -(TROU_TARAUD_M2X0_43_DEPTH + TROU_TARAUD_M2X0_43_TIP / 2))):  # 118° drill point
                Cone(0, TROU_TARAUD_M2X0_43_D / 2, TROU_TARAUD_M2X0_43_TIP, mode=Mode.SUBTRACT)

    # Esquisse53 → Boss.-Extru.12 (add)
    with BuildSketch(Plane.XZ.offset(-27)):
        with Locations((-10.25, 65)):
            Circle(ESQUISSE53_R)
        with Locations((-10.25, 65)):
            Circle(ESQUISSE53_R_2, mode=Mode.SUBTRACT)
    extrude(amount=-BOSS_EXTRU_12_DEPTH)

    # Esquisse55 → Boss.-Extru.14 (add)
    with BuildSketch(Plane.XZ.offset(-84.1).offset(BOSS_EXTRU_14_START)):
        with Locations(Location((-10.25, 65, 0), (0, 0, 90))):
            Circle(ESQUISSE55_R)
        with Locations((-10.25, 65)):
            Circle(ESQUISSE55_R_2, mode=Mode.SUBTRACT)
    extrude(amount=BOSS_EXTRU_14_DEPTH)



with BuildPart() as body_2:
    # Esquisse52 → Boss.-Extru.11 (new body)
    with BuildSketch(Plane(origin=(0, 0, 0), x_dir=(-1, 0, 0), z_dir=(0, 0, -1))):
        Polygon((-11.75, 89), (-26.75, 89), (-26.75, 27), (-6.714351562, 27), (25.25, 27), (25.25, 40.25), (-6.714351562, 40.25), (-6.714351562, 80.75), (25.25, 80.75), (25.25, 89), (-6.714351562, 89), align=None)
    extrude(amount=BOSS_EXTRU_11_DEPTH)

    # Esquisse56 → Enlèv. mat.-Extru.30 (cut)
    with BuildSketch(Plane(origin=(0, 0, -5), x_dir=(-1, 0, 0), z_dir=(0, 0, -1))):
        with Locations((-14.75, 77.552)):
            Circle(ESQUISSE56_R)
        with Locations((-19.27, 81.292)):
            Circle(ESQUISSE56_R_2)
        with Locations((-19.27, 72.292)):
            Circle(ESQUISSE56_R_2)
    extrude(amount=-ENL_V_MAT_EXTRU_30_DEPTH, mode=Mode.SUBTRACT)

    # Esquisse58 → Enlèv. mat.-Extru.31 (cut)
    with BuildSketch(Plane(origin=(26.75, 0, 0), x_dir=(0, 0, -1), z_dir=(1, 0, 0))):
        with Locations((2.991130087, 58.460126478)):
            Rectangle(ESQUISSE58_W, ESQUISSE58_H)
    extrude(amount=-ENL_V_MAT_EXTRU_31_DEPTH, mode=Mode.SUBTRACT)


with BuildPart() as part_1:
    add(part.part)

    add(body_2.part)  # Boss.-Extru.15 merges body 2
    # Esquisse59 → Boss.-Extru.15 (add)
    with BuildSketch(Plane(origin=(0, 0, -5), x_dir=(-1, 0, 0), z_dir=(0, 0, -1))):
        with Locations((-16.532175781, 75.794309042)):
            Rectangle(ESQUISSE59_W, ESQUISSE59_H)
        with Locations((-14.75, 77.552)):
            Circle(ESQUISSE59_R, mode=Mode.SUBTRACT)
        with Locations((-19.27, 72.292)):
            Circle(ESQUISSE59_R_2, mode=Mode.SUBTRACT)
        with Locations((-19.27, 81.292)):
            Circle(ESQUISSE59_R_2, mode=Mode.SUBTRACT)
    extrude(amount=BOSS_EXTRU_15_DEPTH)

    # Trou taraudé M1.4x0.31
    with Locations(Plane(origin=(14.75, 77.552, -14.4), x_dir=(-1, 0, 0), z_dir=(0, 0, -1))):
        with Locations((0, 0)):
            Hole(TROU_TARAUD_M1_4X0_31_D / 2, depth=TROU_TARAUD_M1_4X0_31_DEPTH)
            with Locations((0, 0, -(TROU_TARAUD_M1_4X0_31_DEPTH + TROU_TARAUD_M1_4X0_31_TIP / 2))):  # 118° drill point
                Cone(0, TROU_TARAUD_M1_4X0_31_D / 2, TROU_TARAUD_M1_4X0_31_TIP, mode=Mode.SUBTRACT)

    # Esquisse63 → Enlèv. mat.-Extru.32 (cut)
    with BuildSketch(Plane(origin=(26.35, 0, 0), x_dir=(0, 0, -1), z_dir=(1, 0, 0))):
        with Locations((7.122738555, 58.255505527)):
            Rectangle(ESQUISSE63_W, ESQUISSE63_H)
    extrude(amount=-ENL_V_MAT_EXTRU_32_DEPTH, mode=Mode.SUBTRACT)


solid = part_1.part
